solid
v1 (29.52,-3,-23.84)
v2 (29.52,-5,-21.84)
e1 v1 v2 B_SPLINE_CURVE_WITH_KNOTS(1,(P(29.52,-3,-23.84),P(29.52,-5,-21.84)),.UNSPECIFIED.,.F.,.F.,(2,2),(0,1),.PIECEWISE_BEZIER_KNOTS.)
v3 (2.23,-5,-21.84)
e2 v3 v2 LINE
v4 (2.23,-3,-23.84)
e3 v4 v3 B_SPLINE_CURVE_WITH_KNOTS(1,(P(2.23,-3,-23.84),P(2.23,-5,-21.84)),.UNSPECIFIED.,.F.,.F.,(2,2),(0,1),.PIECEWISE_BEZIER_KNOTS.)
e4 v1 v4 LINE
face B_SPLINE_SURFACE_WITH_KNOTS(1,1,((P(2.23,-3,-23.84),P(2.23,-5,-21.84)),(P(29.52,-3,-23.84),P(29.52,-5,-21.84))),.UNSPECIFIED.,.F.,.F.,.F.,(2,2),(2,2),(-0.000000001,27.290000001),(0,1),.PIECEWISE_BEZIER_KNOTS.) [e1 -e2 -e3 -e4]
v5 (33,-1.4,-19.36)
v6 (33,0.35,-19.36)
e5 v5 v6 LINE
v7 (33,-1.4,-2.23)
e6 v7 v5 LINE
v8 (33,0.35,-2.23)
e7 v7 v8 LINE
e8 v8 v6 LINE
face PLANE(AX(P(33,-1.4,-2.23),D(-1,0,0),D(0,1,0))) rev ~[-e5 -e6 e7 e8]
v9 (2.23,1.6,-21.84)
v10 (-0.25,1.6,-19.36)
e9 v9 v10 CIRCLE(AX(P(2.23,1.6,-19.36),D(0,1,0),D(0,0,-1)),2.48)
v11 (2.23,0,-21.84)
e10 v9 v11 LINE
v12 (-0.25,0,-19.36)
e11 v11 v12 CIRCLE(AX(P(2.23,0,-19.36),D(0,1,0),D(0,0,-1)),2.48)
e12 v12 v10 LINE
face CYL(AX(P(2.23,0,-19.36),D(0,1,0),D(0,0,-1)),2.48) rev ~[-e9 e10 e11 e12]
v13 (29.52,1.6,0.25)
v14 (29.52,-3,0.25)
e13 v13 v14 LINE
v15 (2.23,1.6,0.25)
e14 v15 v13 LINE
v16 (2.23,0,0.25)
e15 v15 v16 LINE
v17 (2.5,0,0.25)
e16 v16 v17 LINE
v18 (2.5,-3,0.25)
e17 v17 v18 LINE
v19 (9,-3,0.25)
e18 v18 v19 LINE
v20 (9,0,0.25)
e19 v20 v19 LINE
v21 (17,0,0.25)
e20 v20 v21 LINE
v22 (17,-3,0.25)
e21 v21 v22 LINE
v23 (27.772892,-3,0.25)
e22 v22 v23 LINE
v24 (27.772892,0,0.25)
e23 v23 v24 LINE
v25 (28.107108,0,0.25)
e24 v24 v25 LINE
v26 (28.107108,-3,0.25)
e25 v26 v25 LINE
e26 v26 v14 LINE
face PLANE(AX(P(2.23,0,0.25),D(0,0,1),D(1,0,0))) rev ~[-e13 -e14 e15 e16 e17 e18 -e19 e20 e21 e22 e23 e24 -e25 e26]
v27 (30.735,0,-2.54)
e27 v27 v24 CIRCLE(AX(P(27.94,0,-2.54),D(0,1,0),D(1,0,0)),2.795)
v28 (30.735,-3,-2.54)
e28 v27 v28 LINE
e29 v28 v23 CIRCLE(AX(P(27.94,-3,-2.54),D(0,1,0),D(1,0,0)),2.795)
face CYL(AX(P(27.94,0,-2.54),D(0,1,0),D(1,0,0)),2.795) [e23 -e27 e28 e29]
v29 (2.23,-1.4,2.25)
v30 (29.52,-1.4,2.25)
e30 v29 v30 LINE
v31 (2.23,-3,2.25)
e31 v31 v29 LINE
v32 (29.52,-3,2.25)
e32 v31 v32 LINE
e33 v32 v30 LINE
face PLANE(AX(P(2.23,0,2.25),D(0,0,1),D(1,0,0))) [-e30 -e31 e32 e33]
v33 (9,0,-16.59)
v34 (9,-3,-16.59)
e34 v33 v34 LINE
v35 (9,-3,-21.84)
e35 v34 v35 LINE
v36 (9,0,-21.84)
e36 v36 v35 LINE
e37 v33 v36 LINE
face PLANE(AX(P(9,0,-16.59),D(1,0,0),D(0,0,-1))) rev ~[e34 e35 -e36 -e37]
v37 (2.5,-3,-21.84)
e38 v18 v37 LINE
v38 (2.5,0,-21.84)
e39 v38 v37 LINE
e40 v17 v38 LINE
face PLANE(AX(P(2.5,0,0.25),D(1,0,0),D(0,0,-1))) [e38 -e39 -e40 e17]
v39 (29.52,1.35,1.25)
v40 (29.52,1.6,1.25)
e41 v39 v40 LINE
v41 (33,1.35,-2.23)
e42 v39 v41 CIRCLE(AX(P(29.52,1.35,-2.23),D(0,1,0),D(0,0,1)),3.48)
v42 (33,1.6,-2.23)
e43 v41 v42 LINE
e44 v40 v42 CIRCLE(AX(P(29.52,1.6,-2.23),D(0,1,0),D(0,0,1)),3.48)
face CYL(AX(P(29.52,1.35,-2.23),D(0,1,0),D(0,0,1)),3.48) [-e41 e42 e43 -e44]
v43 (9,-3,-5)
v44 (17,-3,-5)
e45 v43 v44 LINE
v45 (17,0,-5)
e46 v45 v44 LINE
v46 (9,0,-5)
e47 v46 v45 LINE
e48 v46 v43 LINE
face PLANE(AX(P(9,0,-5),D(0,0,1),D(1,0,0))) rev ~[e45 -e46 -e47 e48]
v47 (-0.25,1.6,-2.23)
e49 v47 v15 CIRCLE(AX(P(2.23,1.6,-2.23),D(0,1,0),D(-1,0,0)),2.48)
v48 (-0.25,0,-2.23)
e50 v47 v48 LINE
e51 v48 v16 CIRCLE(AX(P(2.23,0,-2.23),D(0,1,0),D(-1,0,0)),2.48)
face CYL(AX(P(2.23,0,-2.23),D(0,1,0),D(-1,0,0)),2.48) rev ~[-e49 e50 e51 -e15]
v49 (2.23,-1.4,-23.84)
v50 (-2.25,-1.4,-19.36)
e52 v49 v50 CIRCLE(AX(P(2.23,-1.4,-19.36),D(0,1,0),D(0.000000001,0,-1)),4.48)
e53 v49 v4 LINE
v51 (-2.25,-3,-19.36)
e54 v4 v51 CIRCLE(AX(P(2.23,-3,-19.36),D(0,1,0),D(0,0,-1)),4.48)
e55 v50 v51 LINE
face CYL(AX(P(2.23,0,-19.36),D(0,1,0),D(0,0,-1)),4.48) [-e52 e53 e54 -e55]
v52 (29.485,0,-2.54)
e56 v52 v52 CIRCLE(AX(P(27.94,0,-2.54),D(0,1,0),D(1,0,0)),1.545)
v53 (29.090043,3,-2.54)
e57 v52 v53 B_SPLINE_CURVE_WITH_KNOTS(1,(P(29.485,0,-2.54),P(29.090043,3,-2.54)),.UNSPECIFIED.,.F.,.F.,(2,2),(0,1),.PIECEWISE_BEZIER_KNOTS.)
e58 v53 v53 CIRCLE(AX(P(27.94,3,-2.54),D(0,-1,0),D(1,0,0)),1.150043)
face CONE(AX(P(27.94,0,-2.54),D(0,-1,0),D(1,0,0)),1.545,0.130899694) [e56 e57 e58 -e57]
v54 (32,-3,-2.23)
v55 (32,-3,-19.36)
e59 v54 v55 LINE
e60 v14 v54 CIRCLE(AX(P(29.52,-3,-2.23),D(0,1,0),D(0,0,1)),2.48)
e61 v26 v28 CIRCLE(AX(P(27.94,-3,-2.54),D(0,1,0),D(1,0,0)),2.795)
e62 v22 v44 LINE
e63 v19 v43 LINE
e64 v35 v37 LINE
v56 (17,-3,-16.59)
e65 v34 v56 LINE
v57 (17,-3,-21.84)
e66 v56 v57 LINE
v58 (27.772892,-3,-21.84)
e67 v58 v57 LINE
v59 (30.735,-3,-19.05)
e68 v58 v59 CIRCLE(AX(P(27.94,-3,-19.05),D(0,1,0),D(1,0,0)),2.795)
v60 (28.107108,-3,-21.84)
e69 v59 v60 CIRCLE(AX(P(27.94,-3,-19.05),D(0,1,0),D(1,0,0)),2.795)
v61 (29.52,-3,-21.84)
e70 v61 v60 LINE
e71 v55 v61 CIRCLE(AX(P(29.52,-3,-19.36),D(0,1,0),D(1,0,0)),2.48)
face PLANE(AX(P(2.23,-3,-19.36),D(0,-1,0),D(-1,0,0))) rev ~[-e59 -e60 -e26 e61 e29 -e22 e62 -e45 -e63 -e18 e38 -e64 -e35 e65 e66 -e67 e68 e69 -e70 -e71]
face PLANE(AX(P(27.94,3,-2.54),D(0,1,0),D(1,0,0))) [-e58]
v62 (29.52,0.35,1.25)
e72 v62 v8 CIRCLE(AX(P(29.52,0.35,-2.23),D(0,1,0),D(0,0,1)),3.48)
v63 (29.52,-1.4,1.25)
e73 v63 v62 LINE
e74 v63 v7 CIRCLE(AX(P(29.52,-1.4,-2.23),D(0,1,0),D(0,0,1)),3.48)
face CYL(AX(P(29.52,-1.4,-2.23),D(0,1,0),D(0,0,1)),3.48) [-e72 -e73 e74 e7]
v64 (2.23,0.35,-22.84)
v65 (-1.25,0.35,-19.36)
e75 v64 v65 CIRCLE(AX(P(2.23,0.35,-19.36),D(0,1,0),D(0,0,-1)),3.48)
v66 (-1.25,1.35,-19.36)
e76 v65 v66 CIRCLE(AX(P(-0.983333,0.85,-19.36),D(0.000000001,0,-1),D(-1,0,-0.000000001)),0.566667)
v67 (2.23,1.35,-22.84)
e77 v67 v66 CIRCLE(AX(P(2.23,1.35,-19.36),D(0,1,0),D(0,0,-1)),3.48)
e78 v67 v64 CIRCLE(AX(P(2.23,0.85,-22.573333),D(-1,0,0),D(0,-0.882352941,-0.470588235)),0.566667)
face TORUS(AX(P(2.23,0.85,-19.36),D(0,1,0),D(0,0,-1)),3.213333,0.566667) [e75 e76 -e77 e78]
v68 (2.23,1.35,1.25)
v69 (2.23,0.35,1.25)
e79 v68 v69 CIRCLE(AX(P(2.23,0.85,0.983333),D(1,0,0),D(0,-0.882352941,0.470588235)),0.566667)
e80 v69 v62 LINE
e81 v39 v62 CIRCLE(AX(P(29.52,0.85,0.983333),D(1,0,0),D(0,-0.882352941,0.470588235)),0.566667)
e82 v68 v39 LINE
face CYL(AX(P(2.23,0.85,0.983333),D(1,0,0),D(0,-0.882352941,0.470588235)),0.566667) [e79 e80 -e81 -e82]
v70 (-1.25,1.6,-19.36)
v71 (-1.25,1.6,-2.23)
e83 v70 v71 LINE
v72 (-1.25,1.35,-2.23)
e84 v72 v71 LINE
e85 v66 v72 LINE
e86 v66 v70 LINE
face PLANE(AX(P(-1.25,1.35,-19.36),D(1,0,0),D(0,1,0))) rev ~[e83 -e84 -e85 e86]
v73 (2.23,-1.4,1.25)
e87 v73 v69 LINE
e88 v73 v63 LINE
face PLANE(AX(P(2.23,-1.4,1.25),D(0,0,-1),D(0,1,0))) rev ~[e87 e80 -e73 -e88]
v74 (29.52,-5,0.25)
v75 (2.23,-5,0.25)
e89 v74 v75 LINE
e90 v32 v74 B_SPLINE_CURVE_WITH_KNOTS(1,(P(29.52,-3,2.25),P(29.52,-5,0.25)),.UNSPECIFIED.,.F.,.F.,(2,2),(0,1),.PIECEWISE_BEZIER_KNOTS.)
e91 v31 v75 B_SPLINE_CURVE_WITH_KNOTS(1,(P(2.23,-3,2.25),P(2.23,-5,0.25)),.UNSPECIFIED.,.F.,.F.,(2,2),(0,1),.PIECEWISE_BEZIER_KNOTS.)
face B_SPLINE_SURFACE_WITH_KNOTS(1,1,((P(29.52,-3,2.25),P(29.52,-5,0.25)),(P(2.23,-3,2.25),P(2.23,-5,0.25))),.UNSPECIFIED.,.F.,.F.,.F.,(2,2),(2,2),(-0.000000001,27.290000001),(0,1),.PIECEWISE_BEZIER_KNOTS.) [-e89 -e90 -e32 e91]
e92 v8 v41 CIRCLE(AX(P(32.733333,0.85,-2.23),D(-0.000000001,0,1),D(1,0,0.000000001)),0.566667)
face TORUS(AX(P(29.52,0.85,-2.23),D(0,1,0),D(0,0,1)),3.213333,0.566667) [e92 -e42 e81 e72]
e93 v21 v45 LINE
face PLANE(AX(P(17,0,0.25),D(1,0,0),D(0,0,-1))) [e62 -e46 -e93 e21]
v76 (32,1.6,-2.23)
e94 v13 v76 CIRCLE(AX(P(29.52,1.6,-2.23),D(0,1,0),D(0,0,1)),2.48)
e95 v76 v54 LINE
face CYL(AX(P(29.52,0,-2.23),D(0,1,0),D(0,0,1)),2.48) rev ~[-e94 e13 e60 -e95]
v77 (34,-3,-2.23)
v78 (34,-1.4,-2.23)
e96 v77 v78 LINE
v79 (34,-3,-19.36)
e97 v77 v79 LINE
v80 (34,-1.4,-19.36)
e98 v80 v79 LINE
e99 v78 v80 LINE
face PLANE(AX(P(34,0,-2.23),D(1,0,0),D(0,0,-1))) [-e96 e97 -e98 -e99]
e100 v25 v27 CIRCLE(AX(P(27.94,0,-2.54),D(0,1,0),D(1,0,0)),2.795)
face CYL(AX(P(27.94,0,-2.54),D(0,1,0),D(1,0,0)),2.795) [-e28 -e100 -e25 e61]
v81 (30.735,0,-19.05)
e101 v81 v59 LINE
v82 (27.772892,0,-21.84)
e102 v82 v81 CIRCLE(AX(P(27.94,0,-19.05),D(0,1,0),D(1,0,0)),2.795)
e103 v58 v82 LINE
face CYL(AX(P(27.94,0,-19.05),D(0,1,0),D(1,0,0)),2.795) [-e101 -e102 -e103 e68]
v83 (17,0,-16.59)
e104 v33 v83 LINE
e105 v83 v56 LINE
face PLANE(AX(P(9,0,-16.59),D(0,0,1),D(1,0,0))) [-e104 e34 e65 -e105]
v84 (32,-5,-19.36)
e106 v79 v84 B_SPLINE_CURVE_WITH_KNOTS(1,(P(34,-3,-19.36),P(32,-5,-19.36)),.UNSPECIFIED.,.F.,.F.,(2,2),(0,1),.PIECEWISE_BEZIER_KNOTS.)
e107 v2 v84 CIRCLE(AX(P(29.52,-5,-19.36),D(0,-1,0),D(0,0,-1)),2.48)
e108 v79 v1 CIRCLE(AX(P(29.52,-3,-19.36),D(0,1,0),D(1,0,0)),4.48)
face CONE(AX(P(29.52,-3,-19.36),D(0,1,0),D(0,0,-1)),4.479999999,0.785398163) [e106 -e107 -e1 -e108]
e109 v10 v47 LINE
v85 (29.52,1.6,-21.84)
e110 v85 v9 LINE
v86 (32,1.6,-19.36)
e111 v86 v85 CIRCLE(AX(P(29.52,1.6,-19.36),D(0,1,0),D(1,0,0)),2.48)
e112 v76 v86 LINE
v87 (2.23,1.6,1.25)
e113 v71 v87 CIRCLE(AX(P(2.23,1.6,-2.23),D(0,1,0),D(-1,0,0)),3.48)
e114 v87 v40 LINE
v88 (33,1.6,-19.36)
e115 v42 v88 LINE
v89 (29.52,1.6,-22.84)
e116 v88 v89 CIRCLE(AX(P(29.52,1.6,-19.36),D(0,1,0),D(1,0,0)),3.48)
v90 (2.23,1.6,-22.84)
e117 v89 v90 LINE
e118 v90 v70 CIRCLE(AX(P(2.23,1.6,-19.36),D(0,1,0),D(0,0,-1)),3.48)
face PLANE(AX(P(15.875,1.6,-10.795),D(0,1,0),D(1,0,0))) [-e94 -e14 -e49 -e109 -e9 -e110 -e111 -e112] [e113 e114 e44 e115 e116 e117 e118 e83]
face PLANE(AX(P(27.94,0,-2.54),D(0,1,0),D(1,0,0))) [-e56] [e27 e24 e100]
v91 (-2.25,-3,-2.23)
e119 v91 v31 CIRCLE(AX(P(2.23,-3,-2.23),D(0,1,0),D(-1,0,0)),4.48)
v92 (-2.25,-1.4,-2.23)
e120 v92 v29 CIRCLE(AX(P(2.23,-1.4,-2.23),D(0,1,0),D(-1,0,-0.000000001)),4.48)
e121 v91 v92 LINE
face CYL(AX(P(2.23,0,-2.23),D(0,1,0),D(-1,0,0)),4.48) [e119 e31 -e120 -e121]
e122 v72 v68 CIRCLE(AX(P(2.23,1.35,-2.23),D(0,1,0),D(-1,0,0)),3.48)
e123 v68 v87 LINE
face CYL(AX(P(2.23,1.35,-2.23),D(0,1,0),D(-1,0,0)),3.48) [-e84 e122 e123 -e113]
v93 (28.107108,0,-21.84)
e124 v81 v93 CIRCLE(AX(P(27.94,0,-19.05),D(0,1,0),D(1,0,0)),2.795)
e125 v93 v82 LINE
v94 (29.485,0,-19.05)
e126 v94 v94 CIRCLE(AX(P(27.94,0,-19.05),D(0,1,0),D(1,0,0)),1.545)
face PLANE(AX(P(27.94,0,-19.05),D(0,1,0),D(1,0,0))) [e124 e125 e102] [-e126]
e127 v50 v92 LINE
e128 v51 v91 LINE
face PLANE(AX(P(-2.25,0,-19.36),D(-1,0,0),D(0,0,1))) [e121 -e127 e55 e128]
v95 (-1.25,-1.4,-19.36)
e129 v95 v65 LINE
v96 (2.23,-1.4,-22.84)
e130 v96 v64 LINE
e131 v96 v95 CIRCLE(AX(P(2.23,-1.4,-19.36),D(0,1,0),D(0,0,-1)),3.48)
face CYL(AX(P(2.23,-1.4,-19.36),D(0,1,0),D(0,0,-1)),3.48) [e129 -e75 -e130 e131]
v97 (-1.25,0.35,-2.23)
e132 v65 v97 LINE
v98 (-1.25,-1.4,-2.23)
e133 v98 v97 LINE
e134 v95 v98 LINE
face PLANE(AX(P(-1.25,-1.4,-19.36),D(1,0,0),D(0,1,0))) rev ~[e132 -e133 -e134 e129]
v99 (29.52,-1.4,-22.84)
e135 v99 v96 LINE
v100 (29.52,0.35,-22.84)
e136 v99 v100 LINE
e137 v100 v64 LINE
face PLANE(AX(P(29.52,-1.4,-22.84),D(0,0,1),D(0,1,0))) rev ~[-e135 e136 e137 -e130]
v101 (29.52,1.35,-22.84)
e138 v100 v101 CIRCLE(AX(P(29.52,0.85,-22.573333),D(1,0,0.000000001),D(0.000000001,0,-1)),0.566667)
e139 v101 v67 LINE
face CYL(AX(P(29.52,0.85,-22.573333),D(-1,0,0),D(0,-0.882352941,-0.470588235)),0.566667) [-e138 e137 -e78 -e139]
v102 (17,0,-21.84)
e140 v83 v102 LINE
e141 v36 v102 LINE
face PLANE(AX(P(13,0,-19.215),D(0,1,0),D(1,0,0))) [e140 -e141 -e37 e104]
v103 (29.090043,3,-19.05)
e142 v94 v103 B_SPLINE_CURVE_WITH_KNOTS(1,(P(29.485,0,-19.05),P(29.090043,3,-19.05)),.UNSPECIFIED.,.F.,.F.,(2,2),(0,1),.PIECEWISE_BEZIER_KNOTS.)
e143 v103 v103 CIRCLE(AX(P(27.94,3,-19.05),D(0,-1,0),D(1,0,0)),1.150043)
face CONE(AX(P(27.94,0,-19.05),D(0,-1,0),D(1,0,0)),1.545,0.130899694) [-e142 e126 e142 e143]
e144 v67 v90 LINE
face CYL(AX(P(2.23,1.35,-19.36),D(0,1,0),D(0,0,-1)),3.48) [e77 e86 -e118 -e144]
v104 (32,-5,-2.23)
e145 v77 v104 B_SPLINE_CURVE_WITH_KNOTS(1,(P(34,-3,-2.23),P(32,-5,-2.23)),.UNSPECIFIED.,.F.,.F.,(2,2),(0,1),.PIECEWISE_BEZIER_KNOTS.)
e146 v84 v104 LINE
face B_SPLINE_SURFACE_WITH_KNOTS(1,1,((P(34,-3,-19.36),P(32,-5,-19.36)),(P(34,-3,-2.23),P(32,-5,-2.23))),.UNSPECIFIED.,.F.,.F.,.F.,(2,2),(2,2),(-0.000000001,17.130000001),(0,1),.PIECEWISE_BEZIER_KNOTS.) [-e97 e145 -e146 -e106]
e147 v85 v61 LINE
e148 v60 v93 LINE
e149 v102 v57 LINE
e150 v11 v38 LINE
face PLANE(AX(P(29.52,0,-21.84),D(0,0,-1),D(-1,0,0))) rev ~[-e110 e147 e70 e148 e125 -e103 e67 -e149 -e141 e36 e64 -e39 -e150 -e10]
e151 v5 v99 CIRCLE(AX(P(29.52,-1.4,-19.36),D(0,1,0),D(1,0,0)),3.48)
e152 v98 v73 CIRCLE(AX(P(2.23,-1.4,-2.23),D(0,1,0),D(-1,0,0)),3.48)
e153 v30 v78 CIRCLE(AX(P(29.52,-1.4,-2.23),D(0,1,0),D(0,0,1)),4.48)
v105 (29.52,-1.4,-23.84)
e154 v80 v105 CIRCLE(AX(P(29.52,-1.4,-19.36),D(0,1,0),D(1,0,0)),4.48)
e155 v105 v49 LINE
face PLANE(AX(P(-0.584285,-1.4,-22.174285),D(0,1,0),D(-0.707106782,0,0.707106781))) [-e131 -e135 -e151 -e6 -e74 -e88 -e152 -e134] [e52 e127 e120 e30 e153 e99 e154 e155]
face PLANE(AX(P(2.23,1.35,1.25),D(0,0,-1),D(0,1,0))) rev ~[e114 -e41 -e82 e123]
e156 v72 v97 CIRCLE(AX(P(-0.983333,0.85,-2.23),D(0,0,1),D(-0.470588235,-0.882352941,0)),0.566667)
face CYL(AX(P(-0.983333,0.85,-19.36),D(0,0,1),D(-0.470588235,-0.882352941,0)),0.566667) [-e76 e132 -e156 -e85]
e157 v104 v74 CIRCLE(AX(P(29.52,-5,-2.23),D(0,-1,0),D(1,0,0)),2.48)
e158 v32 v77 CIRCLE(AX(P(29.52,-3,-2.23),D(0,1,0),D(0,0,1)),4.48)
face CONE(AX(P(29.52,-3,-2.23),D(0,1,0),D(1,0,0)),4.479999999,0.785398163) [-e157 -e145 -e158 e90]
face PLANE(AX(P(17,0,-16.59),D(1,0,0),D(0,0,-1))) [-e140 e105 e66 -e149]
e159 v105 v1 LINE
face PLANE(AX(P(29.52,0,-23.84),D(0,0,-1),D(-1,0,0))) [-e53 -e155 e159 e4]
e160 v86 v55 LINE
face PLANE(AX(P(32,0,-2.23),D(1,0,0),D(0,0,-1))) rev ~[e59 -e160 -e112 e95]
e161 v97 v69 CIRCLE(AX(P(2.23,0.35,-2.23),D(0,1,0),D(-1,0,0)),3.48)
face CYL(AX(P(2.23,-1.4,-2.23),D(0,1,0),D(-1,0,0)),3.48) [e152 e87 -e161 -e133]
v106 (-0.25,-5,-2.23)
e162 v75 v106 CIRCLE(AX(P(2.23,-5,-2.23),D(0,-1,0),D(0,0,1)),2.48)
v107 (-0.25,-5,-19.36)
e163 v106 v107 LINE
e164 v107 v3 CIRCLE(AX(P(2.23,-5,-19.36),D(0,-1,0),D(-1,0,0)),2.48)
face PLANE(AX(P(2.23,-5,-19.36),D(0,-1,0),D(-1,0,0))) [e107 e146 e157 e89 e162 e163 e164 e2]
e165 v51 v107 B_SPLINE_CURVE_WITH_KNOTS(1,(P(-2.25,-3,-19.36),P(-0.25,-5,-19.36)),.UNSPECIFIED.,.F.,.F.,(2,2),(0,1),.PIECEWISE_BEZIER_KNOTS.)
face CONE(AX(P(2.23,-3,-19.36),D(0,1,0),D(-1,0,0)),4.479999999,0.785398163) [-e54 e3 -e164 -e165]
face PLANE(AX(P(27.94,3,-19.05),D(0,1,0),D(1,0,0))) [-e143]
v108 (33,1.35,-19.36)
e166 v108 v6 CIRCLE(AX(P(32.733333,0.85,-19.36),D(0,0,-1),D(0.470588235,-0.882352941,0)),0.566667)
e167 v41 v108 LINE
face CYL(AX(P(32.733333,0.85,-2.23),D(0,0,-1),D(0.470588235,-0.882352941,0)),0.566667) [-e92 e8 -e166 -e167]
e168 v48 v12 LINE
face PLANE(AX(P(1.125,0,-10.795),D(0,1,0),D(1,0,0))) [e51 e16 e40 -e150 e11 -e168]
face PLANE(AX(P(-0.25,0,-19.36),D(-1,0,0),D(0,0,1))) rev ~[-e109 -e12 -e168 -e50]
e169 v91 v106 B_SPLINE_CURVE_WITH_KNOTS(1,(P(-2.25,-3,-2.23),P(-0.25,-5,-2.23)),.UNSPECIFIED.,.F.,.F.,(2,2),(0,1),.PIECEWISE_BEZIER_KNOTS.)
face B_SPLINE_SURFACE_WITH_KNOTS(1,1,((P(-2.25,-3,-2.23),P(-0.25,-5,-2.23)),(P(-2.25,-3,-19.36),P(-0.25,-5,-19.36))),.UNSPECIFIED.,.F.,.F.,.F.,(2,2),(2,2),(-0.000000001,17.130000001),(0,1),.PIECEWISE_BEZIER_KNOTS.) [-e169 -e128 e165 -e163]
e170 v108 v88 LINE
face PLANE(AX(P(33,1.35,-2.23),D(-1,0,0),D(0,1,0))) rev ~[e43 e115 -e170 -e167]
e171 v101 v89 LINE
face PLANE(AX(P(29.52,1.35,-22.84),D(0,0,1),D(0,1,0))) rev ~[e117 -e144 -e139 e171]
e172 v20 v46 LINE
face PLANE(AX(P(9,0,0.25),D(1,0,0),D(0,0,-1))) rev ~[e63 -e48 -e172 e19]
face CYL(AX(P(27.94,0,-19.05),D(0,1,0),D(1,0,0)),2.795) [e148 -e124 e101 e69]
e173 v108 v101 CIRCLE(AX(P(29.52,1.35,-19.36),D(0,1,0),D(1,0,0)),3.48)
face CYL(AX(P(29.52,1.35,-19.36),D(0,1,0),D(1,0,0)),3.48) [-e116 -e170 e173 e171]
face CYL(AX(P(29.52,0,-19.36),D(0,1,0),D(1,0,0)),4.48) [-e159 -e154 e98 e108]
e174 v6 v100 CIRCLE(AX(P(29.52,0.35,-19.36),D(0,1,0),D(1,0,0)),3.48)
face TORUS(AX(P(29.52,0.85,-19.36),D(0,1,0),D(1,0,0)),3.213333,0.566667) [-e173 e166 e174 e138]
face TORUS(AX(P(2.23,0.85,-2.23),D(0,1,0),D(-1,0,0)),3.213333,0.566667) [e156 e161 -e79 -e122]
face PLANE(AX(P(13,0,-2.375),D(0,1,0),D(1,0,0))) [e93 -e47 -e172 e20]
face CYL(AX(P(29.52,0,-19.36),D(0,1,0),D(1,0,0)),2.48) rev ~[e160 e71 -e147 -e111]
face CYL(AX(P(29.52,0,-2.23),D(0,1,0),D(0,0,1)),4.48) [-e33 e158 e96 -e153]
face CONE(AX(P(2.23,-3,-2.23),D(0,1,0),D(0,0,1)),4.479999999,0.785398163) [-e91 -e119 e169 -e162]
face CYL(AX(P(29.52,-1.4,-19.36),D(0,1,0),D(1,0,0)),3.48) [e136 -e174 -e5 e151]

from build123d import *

# Parameters (mm, degrees)
MAIN_EXTRUSION_DEPTH      = 1.6
MAIN_EXTRUSION_DEPTH_BACK = 3
TAPERED_BOTTOM_DEPTH      = 2
TAPERED_BOTTOM_TAPER      = 45
PCB_SUPPORT_REACH         = 7
SKETCH4_R                 = 2.795
SKETCH4_W                 = 2.75
SKETCH4_H                 = 22.09
SKETCH4_W_2               = 8
SKETCH4_H_2               = 5.25
SKETCH5_R                 = 1.545
GUIDE_PINS_DEPTH          = 3
GUIDE_PINS_TAPER          = 7.5


with BuildPart() as part:
    # Sketch2 → main-extrusion (new body, two sides)
    with BuildSketch(Plane(origin=(0, 0, 0), x_dir=(1, 0, 0), z_dir=(0, 1, 0))) as main_extrusion_sk:
        with BuildLine():
            Line((-2.25, 19.36), (-2.25, 2.23))
            ThreePointArc((-2.25, 2.23), (-0.93783838, -0.93783838), (2.23, -2.25))
            Line((2.23, -2.25), (29.52, -2.25))
            ThreePointArc((29.52, -2.25), (32.68783838, -0.93783838), (34, 2.23))
            Line((34, 2.23), (34, 19.36))
            ThreePointArc((34, 19.36), (32.68783838, 22.52783838), (29.52, 23.84))
            Line((29.52, 23.84), (2.23, 23.84))
            ThreePointArc((2.23, 23.84), (-0.93783838, 22.52783838), (-2.25, 19.36))
        make_face()
        with BuildLine():
            Line((-0.25, 19.36), (-0.25, 2.23))
            ThreePointArc((-0.25, 2.23), (0.476375183, 0.476375183), (2.23, -0.25))
            Line((2.23, -0.25), (29.52, -0.25))
            ThreePointArc((29.52, -0.25), (31.273624817, 0.476375183), (32, 2.23))
            Line((32, 2.23), (32, 19.36))
            ThreePointArc((32, 19.36), (31.273624817, 21.113624817), (29.52, 21.84))
            Line((29.52, 21.84), (2.23, 21.84))
            ThreePointArc((2.23, 21.84), (0.476375183, 21.113624817), (-0.25, 19.36))
        make_face(mode=Mode.SUBTRACT)
    extrude(amount=MAIN_EXTRUSION_DEPTH)
    extrude(main_extrusion_sk.sketch, amount=-MAIN_EXTRUSION_DEPTH_BACK)

    # Sketch3 → tapered-bottom (add)
    with BuildSketch(Plane.XZ.offset(3)):
        with BuildLine():
            ThreePointArc((-2.25, -19.36), (-0.93783838, -22.52783838), (2.23, -23.84))
            Line((2.23, -23.84), (29.52, -23.84))
            ThreePointArc((29.52, -23.84), (32.68783838, -22.52783838), (34, -19.36))
            Line((34, -19.36), (34, -2.23))
            ThreePointArc((34, -2.23), (32.68783838, 0.93783838), (29.52, 2.25))
            Line((29.52, 2.25), (2.23, 2.25))
            ThreePointArc((2.23, 2.25), (-0.93783838, 0.93783838), (-2.25, -2.23))
            Line((-2.25, -2.23), (-2.25, -19.36))
        make_face()
    extrude(amount=TAPERED_BOTTOM_DEPTH, taper=TAPERED_BOTTOM_TAPER)

    # Sketch4 → PCB-support (add, up to next)
    with BuildSketch(Plane(origin=(0, 0, 0), x_dir=(1, 0, 0), z_dir=(0, 1, 0)), mode=Mode.PRIVATE) as pcb_support_sk1:
        with Locations((27.94, 19.05)):
            Circle(SKETCH4_R)
    pcb_support_tool1 = extrude(pcb_support_sk1.sketch, amount=-PCB_SUPPORT_REACH, mode=Mode.PRIVATE) - part.part
    add(pcb_support_tool1.solids().sort_by_distance((27.94, 0, -19.05))[0])
    # Sketch4 → PCB-support (add, up to next)
    with BuildSketch(Plane(origin=(0, 0, 0), x_dir=(1, 0, 0), z_dir=(0, 1, 0)), mode=Mode.PRIVATE) as pcb_support_sk2:
        with Locations((27.94, 2.54)):
            Circle(SKETCH4_R)
    pcb_support_tool2 = extrude(pcb_support_sk2.sketch, amount=-PCB_SUPPORT_REACH, mode=Mode.PRIVATE) - part.part
    add(pcb_support_tool2.solids().sort_by_distance((27.94, 0, -2.54))[0])
    # Sketch4 → PCB-support (add, up to next)
    with BuildSketch(Plane(origin=(0, 0, 0), x_dir=(1, 0, 0), z_dir=(0, 1, 0)), mode=Mode.PRIVATE) as pcb_support_sk3:
        with Locations((1.125, 10.795)):
            Rectangle(SKETCH4_W, SKETCH4_H)
    pcb_support_tool3 = extrude(pcb_support_sk3.sketch, amount=-PCB_SUPPORT_REACH, mode=Mode.PRIVATE) - part.part
    add(pcb_support_tool3.solids().sort_by_distance((1.125, 0, -10.795))[0])
    # Sketch4 → PCB-support (add, up to next)
    with BuildSketch(Plane(origin=(0, 0, 0), x_dir=(1, 0, 0), z_dir=(0, 1, 0)), mode=Mode.PRIVATE) as pcb_support_sk4:
        with Locations((13, 19.215)):
            Rectangle(SKETCH4_W_2, SKETCH4_H_2)
    pcb_support_tool4 = extrude(pcb_support_sk4.sketch, amount=-PCB_SUPPORT_REACH, mode=Mode.PRIVATE) - part.part
    add(pcb_support_tool4.solids().sort_by_distance((13, 0, -19.215))[0])
    # Sketch4 → PCB-support (add, up to next)
    with BuildSketch(Plane(origin=(0, 0, 0), x_dir=(1, 0, 0), z_dir=(0, 1, 0)), mode=Mode.PRIVATE) as pcb_support_sk5:
        with Locations((13, 2.375)):
            Rectangle(SKETCH4_W_2, SKETCH4_H_2)
    pcb_support_tool5 = extrude(pcb_support_sk5.sketch, amount=-PCB_SUPPORT_REACH, mode=Mode.PRIVATE) - part.part
    add(pcb_support_tool5.solids().sort_by_distance((13, 0, -2.375))[0])

    # Sketch5 → guide-pins (add)
    with BuildSketch(Plane(origin=(0, 0, 0), x_dir=(1, 0, 0), z_dir=(0, 1, 0))):
        with Locations((27.94, 19.05)):
            Circle(SKETCH5_R)
        with Locations((27.94, 2.54)):
            Circle(SKETCH5_R)
    extrude(amount=GUIDE_PINS_DEPTH, taper=GUIDE_PINS_TAPER)

    # top-ridge: sweep along a path in path
    with BuildLine(Plane(origin=(0, 1.6, 0), x_dir=(1, 0, 0), z_dir=(0, 1, 0))) as top_ridge_path:
        Line((2.23, -0.25), (29.52, -0.25))
        ThreePointArc((29.52, -0.25), (31.273624817, 0.476375183), (32, 2.23))
        Line((32, 2.23), (32, 19.36))
        ThreePointArc((32, 19.36), (31.273624817, 21.113624817), (29.52, 21.84))
        Line((29.52, 21.84), (2.23, 21.84))
        ThreePointArc((2.23, 21.84), (0.476375183, 21.113624817), (-0.25, 19.36))
        Line((-0.25, 19.36), (-0.25, 2.23))
        ThreePointArc((-0.25, 2.23), (0.476375183, 0.476375183), (2.23, -0.25))
    # profile → top-ridge (sweep, cut)
    with BuildSketch(Plane(origin=(2.23, 0, 0), x_dir=(0, 0, -1), z_dir=(1, 0, 0))):
        with BuildLine():
            Line((-2.25, 1.6), (-2.25, -1.4))
            Line((-2.25, -1.4), (-1.25, -1.4))
            Line((-1.25, -1.4), (-1.25, 0.35))
            ThreePointArc((-1.25, 0.35), (-1.55, 0.85), (-1.25, 1.35))
            Line((-1.25, 1.35), (-1.25, 1.6))
            Line((-1.25, 1.6), (-2.25, 1.6))
        make_face()
    sweep(path=top_ridge_path.line, mode=Mode.SUBTRACT)


solid = part.part
